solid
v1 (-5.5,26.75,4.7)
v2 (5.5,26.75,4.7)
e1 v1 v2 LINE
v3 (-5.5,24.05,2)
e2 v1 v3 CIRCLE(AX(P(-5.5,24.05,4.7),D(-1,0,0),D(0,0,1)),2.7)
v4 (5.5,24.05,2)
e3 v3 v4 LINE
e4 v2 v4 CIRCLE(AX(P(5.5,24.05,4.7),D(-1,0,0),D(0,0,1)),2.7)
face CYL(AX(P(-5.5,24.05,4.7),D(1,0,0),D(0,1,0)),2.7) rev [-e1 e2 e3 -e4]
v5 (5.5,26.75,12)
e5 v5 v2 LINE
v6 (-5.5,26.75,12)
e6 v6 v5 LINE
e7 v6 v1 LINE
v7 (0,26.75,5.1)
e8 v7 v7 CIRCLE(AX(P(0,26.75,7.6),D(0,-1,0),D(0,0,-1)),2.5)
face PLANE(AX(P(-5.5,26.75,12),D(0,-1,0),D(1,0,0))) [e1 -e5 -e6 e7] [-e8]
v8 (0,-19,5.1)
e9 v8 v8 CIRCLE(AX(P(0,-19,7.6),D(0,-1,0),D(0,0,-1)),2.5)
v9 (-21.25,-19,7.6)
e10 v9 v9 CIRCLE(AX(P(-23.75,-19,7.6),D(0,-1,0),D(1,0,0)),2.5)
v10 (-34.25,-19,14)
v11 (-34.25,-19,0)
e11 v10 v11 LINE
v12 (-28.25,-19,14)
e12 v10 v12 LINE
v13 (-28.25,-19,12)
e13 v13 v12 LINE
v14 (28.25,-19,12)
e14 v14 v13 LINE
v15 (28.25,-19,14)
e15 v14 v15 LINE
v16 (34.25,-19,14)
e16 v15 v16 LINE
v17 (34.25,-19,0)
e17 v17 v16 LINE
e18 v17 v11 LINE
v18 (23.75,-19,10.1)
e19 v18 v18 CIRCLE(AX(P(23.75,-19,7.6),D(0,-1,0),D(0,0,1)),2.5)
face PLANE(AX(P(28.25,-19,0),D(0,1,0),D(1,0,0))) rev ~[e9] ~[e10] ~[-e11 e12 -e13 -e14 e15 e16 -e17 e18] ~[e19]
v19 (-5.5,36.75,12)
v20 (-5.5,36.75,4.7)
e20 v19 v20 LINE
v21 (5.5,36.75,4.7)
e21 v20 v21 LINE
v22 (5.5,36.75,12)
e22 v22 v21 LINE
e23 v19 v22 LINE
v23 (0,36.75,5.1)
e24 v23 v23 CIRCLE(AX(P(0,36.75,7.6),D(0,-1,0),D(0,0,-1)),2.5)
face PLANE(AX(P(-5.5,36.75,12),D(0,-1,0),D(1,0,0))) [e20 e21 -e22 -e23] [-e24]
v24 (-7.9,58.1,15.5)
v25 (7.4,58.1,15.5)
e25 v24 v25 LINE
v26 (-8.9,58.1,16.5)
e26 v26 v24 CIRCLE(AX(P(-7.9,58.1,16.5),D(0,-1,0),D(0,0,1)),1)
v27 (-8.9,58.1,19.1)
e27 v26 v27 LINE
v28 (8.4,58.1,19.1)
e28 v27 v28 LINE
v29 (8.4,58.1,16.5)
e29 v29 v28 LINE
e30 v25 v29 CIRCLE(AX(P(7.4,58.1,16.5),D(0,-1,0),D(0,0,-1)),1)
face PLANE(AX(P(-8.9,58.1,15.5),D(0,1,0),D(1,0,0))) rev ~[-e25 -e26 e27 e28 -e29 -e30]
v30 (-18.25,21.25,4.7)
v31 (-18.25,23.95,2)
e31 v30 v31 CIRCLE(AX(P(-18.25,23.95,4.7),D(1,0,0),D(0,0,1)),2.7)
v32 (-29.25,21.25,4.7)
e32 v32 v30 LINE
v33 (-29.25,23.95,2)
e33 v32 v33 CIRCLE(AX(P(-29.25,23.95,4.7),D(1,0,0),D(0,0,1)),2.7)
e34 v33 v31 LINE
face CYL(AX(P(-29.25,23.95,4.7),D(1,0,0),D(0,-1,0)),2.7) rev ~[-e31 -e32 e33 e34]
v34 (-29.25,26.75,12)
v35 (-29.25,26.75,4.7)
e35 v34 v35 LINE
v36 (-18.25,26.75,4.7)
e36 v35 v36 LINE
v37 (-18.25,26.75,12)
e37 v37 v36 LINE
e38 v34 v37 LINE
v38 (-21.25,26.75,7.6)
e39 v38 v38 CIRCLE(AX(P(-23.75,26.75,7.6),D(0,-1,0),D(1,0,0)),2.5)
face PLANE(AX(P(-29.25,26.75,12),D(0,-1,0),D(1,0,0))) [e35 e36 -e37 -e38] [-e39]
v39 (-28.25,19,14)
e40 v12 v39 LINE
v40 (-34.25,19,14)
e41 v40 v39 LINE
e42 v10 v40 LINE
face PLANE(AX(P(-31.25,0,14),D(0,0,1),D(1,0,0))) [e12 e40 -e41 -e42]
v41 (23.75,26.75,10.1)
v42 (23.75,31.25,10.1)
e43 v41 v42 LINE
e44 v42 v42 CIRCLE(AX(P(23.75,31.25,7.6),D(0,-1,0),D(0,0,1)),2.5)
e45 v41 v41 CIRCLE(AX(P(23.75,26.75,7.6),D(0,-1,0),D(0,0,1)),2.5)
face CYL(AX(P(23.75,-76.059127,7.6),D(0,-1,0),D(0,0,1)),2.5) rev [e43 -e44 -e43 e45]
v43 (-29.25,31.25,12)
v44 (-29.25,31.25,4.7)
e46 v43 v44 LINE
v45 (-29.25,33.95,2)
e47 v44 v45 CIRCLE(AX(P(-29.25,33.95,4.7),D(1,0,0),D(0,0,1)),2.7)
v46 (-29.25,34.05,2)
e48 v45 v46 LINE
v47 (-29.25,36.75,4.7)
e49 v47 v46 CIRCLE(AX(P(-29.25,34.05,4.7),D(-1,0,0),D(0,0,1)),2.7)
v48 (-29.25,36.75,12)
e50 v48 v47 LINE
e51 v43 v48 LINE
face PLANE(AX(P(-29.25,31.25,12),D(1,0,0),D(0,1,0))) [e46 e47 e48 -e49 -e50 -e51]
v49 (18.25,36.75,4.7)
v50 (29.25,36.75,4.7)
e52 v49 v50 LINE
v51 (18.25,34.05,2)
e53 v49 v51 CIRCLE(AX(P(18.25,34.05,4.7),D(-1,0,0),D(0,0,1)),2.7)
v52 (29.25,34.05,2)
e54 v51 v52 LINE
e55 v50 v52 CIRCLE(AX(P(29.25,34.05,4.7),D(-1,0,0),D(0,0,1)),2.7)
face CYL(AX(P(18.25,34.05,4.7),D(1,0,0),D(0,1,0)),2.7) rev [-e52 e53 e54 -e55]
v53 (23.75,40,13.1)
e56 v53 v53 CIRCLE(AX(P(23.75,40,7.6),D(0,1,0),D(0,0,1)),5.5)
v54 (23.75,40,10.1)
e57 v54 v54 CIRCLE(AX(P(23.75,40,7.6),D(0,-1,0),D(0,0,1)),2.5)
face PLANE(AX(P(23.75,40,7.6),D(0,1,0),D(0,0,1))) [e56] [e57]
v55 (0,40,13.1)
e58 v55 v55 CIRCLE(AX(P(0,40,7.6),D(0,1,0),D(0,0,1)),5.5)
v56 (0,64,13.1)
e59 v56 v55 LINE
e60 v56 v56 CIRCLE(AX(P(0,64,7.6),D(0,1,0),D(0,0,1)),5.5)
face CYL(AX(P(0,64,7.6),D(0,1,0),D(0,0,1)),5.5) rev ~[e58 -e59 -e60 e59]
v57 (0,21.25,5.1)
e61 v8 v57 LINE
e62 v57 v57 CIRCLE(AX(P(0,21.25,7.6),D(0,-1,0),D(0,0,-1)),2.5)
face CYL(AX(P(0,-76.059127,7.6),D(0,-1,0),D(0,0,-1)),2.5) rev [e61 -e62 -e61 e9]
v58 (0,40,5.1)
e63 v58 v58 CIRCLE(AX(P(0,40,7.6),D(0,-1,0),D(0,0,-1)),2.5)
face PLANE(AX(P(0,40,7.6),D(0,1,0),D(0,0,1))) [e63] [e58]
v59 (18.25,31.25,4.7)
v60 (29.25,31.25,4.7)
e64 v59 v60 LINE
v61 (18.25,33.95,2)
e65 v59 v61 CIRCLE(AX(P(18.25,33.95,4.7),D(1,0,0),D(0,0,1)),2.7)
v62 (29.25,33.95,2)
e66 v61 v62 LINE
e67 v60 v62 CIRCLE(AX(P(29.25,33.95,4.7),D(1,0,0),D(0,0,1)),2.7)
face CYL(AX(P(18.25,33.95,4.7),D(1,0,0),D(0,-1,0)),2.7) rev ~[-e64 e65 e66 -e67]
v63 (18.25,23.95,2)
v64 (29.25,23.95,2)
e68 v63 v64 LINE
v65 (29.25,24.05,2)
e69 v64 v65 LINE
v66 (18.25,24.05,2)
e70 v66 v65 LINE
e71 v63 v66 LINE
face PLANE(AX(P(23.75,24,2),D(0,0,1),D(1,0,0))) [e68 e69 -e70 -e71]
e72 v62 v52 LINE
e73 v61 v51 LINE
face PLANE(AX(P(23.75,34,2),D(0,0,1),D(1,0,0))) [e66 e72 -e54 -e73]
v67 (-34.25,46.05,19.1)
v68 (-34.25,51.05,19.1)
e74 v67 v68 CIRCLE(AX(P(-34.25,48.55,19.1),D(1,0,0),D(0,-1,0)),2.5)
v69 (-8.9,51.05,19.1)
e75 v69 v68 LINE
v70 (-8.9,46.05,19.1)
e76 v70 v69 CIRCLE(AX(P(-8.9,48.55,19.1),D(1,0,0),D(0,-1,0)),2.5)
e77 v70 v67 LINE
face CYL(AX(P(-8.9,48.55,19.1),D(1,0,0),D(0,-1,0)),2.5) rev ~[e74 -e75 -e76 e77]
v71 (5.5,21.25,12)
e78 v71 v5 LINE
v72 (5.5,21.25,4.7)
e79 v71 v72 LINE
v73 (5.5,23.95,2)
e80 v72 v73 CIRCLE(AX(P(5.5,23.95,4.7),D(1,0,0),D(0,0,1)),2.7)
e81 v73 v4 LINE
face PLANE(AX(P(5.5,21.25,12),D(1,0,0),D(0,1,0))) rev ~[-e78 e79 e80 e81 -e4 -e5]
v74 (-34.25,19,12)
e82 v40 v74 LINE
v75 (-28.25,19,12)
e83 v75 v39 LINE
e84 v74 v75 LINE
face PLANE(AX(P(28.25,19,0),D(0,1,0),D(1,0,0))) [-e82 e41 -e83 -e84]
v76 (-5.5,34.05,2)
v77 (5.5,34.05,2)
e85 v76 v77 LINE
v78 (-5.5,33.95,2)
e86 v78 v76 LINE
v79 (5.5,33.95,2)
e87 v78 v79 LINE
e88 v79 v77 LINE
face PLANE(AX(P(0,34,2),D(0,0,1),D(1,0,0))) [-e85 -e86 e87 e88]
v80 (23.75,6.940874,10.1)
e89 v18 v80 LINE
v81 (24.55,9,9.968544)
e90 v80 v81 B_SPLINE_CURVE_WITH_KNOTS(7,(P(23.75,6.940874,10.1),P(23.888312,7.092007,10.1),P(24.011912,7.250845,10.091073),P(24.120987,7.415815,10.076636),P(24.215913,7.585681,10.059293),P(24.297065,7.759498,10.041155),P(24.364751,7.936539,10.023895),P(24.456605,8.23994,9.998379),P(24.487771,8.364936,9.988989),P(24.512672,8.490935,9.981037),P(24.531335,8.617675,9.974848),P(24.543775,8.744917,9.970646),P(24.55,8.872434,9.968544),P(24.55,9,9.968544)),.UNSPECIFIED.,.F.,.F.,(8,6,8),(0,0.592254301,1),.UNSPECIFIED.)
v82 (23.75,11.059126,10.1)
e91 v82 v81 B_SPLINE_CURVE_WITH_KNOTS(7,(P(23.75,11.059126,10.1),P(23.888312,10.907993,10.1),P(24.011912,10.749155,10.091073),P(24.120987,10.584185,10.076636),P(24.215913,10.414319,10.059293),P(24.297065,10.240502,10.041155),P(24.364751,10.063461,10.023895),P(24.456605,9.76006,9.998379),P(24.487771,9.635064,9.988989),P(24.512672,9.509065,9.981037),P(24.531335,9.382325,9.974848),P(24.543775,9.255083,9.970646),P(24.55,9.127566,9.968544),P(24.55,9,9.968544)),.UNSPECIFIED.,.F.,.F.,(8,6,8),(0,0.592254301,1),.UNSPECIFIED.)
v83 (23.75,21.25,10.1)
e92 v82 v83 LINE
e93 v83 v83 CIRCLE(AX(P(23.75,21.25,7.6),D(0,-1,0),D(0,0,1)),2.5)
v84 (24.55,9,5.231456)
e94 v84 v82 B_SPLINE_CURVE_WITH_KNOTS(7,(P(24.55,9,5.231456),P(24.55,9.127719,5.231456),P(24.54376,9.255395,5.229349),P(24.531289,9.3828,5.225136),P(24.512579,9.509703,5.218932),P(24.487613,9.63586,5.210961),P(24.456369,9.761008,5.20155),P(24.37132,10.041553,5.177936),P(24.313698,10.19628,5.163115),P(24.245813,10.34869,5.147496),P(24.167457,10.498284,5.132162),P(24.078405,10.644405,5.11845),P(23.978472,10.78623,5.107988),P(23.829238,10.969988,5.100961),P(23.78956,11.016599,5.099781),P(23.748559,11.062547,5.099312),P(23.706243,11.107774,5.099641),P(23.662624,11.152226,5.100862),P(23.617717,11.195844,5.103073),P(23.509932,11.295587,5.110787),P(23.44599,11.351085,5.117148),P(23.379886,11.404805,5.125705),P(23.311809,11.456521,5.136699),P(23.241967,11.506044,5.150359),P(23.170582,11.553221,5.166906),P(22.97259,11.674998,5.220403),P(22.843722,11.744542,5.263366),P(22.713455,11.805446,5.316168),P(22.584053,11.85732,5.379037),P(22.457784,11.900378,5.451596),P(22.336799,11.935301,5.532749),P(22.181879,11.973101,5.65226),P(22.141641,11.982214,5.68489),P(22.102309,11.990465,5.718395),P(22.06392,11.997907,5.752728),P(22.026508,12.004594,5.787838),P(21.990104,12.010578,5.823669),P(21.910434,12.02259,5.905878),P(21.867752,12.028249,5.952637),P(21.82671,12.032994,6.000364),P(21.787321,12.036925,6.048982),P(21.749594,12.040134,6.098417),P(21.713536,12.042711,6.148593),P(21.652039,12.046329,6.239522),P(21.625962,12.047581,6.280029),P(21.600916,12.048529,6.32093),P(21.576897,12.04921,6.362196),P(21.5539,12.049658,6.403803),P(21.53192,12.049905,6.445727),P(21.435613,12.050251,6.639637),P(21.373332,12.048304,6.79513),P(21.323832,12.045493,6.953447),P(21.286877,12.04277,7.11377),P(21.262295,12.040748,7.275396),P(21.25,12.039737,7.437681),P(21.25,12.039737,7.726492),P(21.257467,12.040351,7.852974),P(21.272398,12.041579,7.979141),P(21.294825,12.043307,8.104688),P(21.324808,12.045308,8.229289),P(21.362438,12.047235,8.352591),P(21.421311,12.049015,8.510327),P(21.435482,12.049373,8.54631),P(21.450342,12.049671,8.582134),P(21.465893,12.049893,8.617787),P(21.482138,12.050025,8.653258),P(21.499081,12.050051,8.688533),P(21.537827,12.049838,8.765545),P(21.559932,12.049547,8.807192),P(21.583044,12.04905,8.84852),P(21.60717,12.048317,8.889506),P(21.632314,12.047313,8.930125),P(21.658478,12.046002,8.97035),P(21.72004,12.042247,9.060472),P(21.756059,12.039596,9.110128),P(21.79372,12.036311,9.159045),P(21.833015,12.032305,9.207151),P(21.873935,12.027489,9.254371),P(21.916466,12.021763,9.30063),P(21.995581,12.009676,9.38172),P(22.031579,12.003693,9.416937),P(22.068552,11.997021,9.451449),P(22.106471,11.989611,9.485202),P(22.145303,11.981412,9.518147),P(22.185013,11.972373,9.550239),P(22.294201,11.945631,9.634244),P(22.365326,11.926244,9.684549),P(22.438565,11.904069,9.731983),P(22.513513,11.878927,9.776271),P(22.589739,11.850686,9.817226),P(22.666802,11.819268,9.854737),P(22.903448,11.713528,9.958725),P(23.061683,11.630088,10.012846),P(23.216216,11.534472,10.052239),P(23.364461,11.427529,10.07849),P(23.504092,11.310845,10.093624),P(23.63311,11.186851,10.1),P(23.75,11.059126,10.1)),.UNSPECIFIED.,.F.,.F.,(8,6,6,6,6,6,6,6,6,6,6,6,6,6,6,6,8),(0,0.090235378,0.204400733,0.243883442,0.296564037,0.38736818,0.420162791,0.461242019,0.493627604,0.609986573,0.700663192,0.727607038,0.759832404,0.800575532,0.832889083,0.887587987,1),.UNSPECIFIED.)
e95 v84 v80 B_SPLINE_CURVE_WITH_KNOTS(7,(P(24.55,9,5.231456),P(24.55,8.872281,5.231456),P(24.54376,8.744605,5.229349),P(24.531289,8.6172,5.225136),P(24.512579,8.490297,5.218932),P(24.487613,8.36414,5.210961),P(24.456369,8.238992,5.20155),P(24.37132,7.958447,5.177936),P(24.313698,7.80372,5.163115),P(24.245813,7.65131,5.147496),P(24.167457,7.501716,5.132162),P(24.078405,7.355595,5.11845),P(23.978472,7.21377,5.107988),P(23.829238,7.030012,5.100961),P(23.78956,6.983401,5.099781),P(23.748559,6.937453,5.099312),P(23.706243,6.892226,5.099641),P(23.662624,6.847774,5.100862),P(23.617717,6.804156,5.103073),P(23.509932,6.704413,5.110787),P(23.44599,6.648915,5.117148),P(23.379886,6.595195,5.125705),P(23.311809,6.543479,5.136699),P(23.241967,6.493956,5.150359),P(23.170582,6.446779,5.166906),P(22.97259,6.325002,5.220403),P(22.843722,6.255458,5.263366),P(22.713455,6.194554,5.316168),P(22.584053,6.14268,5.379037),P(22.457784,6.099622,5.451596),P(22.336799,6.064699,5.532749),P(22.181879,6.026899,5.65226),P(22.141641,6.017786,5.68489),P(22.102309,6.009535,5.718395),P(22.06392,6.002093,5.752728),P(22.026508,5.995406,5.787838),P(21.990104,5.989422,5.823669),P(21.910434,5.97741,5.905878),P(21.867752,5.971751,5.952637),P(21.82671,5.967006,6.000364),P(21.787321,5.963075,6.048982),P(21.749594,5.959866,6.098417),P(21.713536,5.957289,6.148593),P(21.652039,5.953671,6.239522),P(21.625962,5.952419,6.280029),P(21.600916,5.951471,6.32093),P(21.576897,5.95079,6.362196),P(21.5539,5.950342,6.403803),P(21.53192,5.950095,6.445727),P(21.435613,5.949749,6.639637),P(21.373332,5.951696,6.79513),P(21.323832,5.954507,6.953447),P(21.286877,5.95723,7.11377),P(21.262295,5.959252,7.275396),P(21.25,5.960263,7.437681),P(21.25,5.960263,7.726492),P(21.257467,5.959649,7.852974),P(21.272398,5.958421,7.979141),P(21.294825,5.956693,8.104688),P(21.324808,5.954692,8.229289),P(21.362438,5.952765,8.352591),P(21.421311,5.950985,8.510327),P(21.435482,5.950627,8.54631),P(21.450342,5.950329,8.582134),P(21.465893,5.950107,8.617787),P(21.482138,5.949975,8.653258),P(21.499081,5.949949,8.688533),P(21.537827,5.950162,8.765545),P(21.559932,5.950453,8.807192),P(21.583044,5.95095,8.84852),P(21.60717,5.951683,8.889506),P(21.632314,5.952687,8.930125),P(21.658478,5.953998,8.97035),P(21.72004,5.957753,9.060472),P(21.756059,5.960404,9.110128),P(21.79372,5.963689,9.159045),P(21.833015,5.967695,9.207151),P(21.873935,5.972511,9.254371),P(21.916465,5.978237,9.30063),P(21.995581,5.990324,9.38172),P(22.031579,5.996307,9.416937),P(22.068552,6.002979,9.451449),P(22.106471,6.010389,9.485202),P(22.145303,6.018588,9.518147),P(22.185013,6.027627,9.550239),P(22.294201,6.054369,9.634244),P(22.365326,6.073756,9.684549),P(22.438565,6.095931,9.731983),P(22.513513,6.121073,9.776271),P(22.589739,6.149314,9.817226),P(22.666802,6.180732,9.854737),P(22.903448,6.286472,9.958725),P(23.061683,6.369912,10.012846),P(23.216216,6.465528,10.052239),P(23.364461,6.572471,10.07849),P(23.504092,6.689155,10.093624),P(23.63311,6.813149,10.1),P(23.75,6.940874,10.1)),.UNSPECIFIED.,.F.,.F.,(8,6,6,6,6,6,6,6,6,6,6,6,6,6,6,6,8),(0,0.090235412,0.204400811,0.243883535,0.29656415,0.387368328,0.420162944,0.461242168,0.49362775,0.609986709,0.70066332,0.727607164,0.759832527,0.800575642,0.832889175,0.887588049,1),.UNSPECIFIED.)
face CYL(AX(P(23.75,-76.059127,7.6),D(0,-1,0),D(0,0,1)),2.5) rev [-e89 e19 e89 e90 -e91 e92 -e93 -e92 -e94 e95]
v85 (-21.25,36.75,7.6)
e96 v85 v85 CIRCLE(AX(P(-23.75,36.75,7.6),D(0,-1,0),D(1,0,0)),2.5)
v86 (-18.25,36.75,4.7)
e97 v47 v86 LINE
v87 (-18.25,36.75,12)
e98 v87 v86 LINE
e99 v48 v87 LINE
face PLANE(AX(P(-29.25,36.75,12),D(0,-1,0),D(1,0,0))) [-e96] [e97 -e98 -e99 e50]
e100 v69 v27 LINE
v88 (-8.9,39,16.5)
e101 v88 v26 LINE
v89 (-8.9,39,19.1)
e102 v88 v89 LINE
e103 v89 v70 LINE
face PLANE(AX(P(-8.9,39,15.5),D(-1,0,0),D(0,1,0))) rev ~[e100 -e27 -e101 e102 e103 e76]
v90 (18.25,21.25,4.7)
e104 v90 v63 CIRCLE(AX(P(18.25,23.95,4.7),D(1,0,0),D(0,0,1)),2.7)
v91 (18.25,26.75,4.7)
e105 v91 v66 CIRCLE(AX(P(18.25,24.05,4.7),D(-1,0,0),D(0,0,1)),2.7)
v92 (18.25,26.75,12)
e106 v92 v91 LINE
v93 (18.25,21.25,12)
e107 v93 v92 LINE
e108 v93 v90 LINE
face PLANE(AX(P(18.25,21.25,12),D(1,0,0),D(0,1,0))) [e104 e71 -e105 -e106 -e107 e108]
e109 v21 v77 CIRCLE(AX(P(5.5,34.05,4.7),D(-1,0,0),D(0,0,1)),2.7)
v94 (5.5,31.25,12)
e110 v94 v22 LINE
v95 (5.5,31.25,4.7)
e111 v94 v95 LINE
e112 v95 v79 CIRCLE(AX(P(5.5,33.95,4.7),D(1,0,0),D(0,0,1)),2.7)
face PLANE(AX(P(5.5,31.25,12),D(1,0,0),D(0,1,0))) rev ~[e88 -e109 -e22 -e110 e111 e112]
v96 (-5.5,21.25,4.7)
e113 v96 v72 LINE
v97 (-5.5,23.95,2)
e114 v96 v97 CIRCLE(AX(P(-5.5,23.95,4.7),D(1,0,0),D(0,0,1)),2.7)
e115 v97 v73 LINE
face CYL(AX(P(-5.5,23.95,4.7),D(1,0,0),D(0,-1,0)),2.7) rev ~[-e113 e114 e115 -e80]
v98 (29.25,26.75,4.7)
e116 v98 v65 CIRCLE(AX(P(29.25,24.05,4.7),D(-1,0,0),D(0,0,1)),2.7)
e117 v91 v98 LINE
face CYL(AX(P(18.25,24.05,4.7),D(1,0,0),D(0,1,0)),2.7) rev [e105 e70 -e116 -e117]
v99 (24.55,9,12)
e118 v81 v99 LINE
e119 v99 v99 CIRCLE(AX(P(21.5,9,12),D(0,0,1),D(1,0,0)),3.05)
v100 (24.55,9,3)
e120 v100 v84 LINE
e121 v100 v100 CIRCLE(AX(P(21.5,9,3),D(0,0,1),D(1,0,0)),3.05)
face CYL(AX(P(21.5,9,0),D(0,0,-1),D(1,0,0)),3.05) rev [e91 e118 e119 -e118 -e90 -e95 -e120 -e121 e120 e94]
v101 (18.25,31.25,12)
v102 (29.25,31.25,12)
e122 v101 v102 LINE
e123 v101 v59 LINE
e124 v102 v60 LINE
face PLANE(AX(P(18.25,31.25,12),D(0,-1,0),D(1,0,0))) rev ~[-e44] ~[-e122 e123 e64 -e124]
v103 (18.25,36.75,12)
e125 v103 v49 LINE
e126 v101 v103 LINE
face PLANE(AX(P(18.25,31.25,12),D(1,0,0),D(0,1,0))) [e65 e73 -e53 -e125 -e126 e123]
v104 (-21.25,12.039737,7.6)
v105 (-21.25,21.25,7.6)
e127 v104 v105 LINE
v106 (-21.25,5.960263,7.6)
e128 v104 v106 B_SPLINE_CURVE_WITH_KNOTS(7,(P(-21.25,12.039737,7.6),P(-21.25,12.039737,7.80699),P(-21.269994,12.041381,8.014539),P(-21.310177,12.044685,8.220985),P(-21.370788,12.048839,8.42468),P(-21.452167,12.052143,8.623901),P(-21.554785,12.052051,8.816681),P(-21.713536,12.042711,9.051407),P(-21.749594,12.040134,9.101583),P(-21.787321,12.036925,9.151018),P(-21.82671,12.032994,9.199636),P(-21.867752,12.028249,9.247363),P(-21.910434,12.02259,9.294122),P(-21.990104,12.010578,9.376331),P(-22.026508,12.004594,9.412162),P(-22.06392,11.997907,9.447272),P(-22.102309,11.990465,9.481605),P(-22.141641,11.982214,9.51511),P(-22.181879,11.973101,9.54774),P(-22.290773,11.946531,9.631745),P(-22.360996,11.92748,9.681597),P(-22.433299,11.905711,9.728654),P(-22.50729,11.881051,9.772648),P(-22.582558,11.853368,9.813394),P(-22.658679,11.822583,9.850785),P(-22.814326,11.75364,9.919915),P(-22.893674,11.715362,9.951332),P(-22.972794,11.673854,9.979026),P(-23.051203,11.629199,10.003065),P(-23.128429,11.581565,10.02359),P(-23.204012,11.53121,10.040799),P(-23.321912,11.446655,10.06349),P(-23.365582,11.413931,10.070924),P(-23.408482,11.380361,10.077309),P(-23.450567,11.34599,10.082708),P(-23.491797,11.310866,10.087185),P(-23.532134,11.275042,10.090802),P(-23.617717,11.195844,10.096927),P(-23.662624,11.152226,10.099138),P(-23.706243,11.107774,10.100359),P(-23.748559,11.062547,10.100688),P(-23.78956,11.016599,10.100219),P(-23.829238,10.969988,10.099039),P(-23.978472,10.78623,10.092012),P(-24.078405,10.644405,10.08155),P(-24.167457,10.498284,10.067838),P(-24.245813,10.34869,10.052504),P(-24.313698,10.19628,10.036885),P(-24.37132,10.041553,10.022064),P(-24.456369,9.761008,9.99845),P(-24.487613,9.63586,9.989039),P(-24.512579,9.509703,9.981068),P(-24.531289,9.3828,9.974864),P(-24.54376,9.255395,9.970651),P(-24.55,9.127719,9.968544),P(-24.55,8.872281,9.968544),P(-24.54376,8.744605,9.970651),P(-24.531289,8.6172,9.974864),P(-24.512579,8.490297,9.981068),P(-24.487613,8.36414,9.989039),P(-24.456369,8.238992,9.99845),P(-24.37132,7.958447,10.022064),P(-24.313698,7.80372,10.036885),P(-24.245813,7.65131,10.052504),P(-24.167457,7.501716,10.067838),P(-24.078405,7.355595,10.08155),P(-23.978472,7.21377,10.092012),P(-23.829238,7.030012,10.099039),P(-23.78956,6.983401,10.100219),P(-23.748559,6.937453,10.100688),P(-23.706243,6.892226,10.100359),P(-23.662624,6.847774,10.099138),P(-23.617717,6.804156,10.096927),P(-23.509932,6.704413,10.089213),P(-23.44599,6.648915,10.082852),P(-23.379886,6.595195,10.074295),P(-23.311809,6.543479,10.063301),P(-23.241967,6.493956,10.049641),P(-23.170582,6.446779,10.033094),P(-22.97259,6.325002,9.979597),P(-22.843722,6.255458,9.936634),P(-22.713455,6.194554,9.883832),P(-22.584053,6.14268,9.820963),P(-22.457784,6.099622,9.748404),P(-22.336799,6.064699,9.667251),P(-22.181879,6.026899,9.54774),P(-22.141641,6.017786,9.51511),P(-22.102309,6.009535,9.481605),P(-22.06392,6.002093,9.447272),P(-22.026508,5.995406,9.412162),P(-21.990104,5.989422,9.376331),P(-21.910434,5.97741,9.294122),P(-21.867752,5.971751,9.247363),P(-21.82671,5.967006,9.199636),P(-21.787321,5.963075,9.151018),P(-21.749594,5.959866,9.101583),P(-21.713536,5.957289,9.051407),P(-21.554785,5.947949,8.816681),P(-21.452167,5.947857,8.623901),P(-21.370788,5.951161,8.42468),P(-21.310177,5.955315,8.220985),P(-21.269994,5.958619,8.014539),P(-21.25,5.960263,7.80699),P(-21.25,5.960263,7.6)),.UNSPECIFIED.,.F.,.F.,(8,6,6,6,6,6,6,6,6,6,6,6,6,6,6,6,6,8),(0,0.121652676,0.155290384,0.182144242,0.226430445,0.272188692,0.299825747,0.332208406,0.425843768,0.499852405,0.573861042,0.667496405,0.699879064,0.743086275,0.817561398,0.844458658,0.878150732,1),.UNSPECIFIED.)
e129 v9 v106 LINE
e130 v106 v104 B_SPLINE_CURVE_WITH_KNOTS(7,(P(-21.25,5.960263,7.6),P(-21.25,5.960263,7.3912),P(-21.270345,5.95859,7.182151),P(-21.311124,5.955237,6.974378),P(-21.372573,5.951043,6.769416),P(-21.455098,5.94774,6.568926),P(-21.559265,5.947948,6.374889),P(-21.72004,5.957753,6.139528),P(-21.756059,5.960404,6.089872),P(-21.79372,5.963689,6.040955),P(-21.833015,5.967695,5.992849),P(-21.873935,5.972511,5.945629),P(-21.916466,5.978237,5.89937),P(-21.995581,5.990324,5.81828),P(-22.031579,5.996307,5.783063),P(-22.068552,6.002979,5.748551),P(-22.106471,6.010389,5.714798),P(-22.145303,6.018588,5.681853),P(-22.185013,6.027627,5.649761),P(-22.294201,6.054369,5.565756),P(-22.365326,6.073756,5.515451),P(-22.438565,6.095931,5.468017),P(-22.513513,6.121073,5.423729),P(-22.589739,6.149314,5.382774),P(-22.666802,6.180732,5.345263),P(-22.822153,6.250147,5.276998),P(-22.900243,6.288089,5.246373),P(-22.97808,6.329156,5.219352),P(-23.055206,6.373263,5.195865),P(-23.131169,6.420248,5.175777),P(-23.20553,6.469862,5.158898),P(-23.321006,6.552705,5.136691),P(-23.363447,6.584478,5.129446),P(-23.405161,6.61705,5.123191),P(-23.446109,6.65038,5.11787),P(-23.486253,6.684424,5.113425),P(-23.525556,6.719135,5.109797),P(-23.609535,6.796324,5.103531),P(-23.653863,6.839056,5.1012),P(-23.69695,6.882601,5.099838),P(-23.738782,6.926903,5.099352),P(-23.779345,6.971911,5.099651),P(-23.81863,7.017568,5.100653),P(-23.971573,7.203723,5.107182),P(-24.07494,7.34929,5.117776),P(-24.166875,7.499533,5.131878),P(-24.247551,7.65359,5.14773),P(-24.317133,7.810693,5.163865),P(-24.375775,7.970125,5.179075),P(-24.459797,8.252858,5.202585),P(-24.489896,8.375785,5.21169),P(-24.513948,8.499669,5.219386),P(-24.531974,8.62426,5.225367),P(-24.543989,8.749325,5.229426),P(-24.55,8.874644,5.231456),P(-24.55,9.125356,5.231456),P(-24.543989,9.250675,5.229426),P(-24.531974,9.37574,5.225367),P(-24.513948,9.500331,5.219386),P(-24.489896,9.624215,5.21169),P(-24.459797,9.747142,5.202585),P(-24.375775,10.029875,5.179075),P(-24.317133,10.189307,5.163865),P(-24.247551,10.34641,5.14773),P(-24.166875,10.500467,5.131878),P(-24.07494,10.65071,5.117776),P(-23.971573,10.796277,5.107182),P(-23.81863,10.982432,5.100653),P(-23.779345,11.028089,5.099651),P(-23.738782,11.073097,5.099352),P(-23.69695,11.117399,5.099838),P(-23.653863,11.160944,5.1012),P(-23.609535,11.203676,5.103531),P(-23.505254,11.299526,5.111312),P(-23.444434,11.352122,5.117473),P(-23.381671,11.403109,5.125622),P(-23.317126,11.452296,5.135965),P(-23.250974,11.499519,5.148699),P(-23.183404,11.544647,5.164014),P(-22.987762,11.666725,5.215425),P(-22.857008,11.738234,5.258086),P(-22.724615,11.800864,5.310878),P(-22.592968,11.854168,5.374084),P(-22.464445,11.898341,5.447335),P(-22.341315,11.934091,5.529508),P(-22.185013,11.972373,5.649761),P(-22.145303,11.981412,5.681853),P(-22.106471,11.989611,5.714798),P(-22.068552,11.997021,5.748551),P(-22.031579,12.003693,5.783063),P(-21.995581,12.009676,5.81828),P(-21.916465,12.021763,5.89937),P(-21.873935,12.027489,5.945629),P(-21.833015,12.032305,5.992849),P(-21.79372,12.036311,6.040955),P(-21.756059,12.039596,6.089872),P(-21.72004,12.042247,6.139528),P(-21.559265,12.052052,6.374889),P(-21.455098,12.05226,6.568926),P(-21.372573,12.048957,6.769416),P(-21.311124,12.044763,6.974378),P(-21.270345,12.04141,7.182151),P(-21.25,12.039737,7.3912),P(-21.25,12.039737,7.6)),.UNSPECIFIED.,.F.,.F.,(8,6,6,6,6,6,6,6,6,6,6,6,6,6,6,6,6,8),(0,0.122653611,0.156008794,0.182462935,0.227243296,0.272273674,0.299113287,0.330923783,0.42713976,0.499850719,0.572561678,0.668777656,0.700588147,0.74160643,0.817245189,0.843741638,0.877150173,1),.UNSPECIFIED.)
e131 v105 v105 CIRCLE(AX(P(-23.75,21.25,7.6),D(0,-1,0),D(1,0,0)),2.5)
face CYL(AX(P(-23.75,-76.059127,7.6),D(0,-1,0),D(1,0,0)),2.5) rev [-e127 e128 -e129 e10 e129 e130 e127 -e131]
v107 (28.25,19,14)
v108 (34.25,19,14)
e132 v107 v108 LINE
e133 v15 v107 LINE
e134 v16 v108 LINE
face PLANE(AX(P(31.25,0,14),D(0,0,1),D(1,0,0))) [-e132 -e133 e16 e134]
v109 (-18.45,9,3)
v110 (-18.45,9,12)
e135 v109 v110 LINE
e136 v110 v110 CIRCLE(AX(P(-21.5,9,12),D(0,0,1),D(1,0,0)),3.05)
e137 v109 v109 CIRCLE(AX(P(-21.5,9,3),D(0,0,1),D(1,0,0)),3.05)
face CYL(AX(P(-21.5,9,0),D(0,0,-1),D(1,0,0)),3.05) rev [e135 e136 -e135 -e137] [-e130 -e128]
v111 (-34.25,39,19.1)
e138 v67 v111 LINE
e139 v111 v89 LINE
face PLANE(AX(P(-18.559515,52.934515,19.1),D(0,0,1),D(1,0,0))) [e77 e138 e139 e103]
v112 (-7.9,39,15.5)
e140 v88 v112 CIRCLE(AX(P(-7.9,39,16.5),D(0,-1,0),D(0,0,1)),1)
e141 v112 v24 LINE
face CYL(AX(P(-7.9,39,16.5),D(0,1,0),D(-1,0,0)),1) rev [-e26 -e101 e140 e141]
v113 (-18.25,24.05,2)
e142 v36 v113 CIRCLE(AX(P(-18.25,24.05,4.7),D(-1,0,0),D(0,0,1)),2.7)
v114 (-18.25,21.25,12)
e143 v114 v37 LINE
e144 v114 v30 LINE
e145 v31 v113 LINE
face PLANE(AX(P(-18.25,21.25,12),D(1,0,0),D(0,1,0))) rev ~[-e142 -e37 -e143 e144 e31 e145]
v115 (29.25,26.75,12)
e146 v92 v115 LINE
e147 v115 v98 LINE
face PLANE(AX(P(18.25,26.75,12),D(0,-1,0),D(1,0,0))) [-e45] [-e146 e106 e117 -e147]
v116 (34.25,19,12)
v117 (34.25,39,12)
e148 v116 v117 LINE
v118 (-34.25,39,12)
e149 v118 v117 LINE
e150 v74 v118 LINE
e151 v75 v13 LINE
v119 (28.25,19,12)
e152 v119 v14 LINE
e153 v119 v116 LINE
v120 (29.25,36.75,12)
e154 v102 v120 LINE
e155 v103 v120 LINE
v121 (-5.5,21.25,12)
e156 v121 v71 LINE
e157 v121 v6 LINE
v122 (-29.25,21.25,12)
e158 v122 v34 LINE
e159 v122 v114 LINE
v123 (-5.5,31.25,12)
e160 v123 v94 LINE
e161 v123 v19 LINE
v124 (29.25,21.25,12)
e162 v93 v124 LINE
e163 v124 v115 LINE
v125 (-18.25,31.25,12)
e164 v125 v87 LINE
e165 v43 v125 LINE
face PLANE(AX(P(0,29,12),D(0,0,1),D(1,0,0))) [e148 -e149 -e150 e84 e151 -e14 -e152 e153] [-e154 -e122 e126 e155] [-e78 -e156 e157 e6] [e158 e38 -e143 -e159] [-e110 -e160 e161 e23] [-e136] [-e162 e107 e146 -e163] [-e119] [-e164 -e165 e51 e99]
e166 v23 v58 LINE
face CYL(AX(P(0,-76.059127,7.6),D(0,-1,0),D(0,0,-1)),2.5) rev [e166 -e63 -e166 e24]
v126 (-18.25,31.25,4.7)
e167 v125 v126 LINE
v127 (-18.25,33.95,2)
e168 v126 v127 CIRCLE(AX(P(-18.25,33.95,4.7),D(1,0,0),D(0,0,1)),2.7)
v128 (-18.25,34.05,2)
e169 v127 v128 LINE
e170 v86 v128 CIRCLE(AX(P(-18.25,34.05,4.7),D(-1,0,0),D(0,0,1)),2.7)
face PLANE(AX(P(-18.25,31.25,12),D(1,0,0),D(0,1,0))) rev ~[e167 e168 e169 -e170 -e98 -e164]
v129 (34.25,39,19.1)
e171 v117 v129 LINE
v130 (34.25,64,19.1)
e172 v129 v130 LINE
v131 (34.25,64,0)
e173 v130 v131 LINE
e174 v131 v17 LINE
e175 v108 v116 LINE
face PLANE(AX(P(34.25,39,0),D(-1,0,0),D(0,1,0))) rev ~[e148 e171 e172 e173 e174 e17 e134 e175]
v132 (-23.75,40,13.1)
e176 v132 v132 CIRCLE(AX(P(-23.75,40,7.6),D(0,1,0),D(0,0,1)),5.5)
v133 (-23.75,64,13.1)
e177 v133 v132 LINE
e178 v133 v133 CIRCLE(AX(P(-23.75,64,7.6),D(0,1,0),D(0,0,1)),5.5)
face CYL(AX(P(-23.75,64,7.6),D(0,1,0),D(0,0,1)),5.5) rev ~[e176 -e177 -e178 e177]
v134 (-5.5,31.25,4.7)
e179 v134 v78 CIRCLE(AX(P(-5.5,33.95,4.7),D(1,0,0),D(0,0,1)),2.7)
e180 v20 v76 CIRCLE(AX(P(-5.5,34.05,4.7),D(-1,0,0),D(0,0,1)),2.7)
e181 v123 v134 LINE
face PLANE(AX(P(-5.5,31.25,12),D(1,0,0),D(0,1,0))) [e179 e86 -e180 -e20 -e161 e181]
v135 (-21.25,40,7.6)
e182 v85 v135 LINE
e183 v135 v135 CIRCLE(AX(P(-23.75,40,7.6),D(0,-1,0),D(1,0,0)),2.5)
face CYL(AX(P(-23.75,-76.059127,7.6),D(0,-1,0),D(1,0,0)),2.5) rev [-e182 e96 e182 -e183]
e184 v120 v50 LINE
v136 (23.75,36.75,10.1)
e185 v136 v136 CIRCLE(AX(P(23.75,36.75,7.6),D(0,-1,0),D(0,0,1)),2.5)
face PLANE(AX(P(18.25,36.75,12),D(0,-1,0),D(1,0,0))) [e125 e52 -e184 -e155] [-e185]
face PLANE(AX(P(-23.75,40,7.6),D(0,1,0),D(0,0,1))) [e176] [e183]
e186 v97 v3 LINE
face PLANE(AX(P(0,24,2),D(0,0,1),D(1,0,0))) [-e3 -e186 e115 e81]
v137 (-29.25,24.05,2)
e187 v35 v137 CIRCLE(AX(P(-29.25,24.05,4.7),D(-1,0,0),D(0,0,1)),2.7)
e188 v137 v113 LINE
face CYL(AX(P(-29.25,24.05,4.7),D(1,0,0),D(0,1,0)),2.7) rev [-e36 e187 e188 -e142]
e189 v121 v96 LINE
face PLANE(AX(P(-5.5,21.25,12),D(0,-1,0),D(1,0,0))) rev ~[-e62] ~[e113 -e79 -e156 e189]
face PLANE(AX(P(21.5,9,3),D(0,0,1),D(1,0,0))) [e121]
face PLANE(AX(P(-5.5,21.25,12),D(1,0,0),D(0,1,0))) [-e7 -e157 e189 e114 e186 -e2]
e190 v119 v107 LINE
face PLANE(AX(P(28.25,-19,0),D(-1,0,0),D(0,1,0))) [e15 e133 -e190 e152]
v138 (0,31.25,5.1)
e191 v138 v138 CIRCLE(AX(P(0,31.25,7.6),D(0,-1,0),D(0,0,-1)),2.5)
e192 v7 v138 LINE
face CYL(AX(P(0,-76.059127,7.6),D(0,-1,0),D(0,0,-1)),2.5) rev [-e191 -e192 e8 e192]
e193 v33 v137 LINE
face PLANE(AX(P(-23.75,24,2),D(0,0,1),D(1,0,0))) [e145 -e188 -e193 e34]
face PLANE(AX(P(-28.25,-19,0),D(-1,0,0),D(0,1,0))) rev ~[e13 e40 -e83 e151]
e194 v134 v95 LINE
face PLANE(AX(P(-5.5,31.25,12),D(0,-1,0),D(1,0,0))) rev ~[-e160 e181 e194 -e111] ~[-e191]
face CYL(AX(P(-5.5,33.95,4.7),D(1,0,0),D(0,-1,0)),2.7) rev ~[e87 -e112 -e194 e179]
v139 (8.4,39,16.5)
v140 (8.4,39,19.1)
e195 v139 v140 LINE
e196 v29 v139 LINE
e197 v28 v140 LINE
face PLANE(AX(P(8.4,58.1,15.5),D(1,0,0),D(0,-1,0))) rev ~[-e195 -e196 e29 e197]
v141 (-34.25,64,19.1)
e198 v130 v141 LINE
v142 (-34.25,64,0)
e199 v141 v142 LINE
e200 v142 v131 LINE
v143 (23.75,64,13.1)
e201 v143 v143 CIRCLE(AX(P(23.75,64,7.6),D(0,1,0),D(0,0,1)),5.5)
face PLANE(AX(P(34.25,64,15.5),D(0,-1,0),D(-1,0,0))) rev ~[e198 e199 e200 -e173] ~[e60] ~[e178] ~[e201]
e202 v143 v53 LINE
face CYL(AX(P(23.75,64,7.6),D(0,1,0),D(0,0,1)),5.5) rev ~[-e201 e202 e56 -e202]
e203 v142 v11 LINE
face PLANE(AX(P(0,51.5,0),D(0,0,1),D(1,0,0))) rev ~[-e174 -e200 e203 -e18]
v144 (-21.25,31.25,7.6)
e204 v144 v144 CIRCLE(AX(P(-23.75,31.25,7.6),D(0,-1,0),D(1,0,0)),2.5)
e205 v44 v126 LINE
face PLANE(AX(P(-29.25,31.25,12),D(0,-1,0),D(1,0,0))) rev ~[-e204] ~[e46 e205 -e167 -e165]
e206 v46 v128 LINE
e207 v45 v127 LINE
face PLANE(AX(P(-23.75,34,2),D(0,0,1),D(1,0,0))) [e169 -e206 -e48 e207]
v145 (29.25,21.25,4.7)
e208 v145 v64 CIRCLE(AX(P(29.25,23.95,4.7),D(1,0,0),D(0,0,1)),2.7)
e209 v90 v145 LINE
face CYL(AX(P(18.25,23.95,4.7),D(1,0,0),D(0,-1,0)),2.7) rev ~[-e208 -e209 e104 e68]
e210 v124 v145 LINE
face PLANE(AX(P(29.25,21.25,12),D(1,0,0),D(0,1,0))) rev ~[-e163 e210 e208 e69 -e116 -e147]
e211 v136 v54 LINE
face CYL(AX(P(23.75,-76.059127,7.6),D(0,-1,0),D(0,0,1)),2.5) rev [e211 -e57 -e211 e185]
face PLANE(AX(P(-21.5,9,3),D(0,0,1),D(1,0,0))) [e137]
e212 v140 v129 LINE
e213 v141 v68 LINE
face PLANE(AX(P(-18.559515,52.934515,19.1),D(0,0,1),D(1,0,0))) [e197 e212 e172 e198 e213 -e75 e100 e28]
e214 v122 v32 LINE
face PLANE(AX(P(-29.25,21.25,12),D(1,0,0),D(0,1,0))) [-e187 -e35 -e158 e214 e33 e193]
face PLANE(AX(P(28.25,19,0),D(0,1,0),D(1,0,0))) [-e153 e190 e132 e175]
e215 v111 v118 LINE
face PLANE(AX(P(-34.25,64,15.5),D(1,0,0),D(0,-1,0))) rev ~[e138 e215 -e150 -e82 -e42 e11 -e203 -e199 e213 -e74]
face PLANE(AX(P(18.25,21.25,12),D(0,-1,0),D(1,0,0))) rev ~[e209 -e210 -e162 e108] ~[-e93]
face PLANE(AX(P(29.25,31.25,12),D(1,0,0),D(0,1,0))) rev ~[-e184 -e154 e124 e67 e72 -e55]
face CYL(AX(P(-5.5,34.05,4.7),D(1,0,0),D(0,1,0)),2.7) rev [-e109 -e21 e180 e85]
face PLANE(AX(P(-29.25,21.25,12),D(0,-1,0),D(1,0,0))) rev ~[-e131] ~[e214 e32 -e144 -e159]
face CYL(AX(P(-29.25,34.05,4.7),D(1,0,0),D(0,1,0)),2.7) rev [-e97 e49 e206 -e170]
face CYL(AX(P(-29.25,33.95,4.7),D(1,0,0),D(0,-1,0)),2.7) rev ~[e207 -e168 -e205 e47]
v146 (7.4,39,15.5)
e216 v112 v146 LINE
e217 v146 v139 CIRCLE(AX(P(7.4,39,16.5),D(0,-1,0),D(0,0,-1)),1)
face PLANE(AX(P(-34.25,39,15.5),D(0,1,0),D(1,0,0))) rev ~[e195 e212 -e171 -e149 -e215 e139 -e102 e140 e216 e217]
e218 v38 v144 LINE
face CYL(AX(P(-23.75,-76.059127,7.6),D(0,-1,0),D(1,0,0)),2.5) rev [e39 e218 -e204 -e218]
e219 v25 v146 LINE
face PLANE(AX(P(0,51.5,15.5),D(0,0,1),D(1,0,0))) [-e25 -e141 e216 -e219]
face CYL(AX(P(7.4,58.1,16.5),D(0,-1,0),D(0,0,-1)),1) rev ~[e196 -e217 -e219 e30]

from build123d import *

# Parameters (mm, degrees)
ESQUISSE2_W                  = 56.5
ESQUISSE2_H                  = 38
ESQUISSE2_R                  = 3.05
ESQUISSE2_W_2                = 6
SOCLESYRINGE_DEPTH           = 12
ESQUISSE2_2_R                = 3.05
BOSS_EXTRU_2_DEPTH           = 3
ESQUISSE2_4_W                = 6
ESQUISSE2_4_H                = 38
BOSS_EXTRU_4_DEPTH           = 14
ESQUISSE3_W                  = 68.5
ESQUISSE3_H                  = 20
BOSS_EXTRU_3_DEPTH           = 12
ESQUISSE4_W                  = 11
ESQUISSE4_H                  = 5.5
ENL_V_MAT_EXTRU_1_DEPTH      = 10
CONG_1_R                     = 2.7
ESQUISSE6_W                  = 68.5
ESQUISSE6_H                  = 25
BOSS_EXTRU_5_DEPTH           = 15.5
BOSS_EXTRU_6_DEPTH           = 3.6
ENL_V_MAT_EXTRU_3_DEPTH      = 80.515611675
CONG_2_R                     = 1
ENL_V_MAT_EXTRU_2_DEPTH      = 76.059126694
ENL_V_MAT_EXTRU_2_DEPTH_BACK = 76.059126694
ESQUISSE5_R                  = 2.5
ESQUISSE9_R                  = 5.5
ENL_V_MAT_EXTRU_4_DEPTH      = 24


with BuildPart() as part:
    # Esquisse2 → SocleSyringe (new body)
    # profile 1 of 3: a face of its own
    with BuildSketch(Plane.XY):
        Rectangle(ESQUISSE2_W, ESQUISSE2_H)
        with Locations((-21.5, 9)):
            Circle(ESQUISSE2_R, mode=Mode.SUBTRACT)
        with Locations((21.5, 9)):
            Circle(ESQUISSE2_R, mode=Mode.SUBTRACT)
    # profile 2 of 3: a face of its own
    with BuildSketch(Plane.XY):
        with Locations((-31.25, 0)):
            Rectangle(ESQUISSE2_W_2, ESQUISSE2_H)
    # profile 3 of 3: a face of its own
    with BuildSketch(Plane.XY):
        with Locations((31.25, 0)):
            Rectangle(ESQUISSE2_W_2, ESQUISSE2_H)
    extrude(amount=SOCLESYRINGE_DEPTH)

    # Esquisse2<2> → Boss.-Extru.2 (add)
    with BuildSketch(Plane.XY):
        with Locations((-21.5, 9)):
            Circle(ESQUISSE2_2_R)
        with Locations((21.5, 9)):
            Circle(ESQUISSE2_2_R)
    extrude(amount=BOSS_EXTRU_2_DEPTH)

    # Esquisse2<4> → Boss.-Extru.4 (add)
    with BuildSketch(Plane.XY):
        with Locations((-31.25, 0)):
            Rectangle(ESQUISSE2_4_W, ESQUISSE2_4_H)
        with Locations((31.25, 0)):
            Rectangle(ESQUISSE2_4_W, ESQUISSE2_4_H)
    extrude(amount=BOSS_EXTRU_4_DEPTH)

    # Esquisse3 → Boss.-Extru.3 (add)
    with BuildSketch(Plane.XY):
        with Locations((0, 29)):
            Rectangle(ESQUISSE3_W, ESQUISSE3_H)
    extrude(amount=BOSS_EXTRU_3_DEPTH)

    # Esquisse4 → Enlèv. mat.-Extru.1 (cut)
    with BuildSketch(Plane.XY.offset(12)):
        with Locations((-23.75, 34)):
            Rectangle(ESQUISSE4_W, ESQUISSE4_H)
        with Locations((23.75, 34)):
            Rectangle(ESQUISSE4_W, ESQUISSE4_H)
        with Locations((23.75, 24)):
            Rectangle(ESQUISSE4_W, ESQUISSE4_H)
        with Locations((-23.75, 24)):
            Rectangle(ESQUISSE4_W, ESQUISSE4_H)
        with Locations((0, 34)):
            Rectangle(ESQUISSE4_W, ESQUISSE4_H)
        with Locations((0, 24)):
            Rectangle(ESQUISSE4_W, ESQUISSE4_H)
    extrude(amount=-ENL_V_MAT_EXTRU_1_DEPTH, mode=Mode.SUBTRACT)

    # Congé1
    cong_1_edges = [part.edges().sort_by_distance(p)[0] for p in [
        (23.75, 36.75, 2),
        (23.75, 31.25, 2),
        (23.75, 26.75, 2),
        (23.75, 21.25, 2),
        (-23.75, 21.25, 2),
        (-23.75, 26.75, 2),
        (0, 31.25, 2),
        (0, 36.75, 2),
        (0, 21.25, 2),
        (0, 26.75, 2),
        (-23.75, 31.25, 2),
        (-23.75, 36.75, 2),
    ]]
    fillet(cong_1_edges, radius=CONG_1_R)

    # Esquisse6 → Boss.-Extru.5 (add)
    with BuildSketch(Plane.XY):
        with Locations((0, 51.5)):
            Rectangle(ESQUISSE6_W, ESQUISSE6_H)
    extrude(amount=BOSS_EXTRU_5_DEPTH)

    # Esquisse7 → Boss.-Extru.6 (add)
    with BuildSketch(Plane.XY.offset(15.5)):
        Polygon((-34.25, 39), (-8.9, 39), (-8.9, 58.1), (0, 58.1), (0, 64), (-34.25, 64), align=None)
        Polygon((8.4, 58.1), (8.4, 39), (34.25, 39), (34.25, 64), (0, 64), (0, 58.1), align=None)
    extrude(amount=BOSS_EXTRU_6_DEPTH)

    # Esquisse8 → Enlèv. mat.-Extru.3 (cut, through all)
    with BuildSketch(Plane(origin=(-8.9, 0, 0), x_dir=(0, 0, -1), z_dir=(1, 0, 0))):
        with BuildLine():
            Line((-19.1, 51.05), (-19.1, 46.05))
            ThreePointArc((-19.1, 46.05), (-16.6, 48.55), (-19.1, 51.05))
        make_face()
    extrude(amount=-ENL_V_MAT_EXTRU_3_DEPTH, mode=Mode.SUBTRACT)

    # Congé2
    cong_2_edges = [part.edges().sort_by_distance(p)[0] for p in [
        (-8.9, 48.55, 15.5),
        (8.4, 48.55, 15.5),
    ]]
    fillet(cong_2_edges, radius=CONG_2_R)

    # Esquisse5 → Enlèv. mat.-Extru.2 (cut, two sides: drawn at the far end of the back side and taken through both)
    with BuildSketch(Plane(origin=(0, 0, 0), x_dir=(1, 0, 0), z_dir=(0, 1, 0)).offset(-ENL_V_MAT_EXTRU_2_DEPTH_BACK)):
        with Locations(Location((23.75, -7.6, 0), (0, 0, 270))):
            Circle(ESQUISSE5_R)
        with Locations((-23.75, -7.6)):
            Circle(ESQUISSE5_R)
        with Locations(Location((0, -7.6, 0), (0, 0, 90))):
            Circle(ESQUISSE5_R)
    extrude(amount=ENL_V_MAT_EXTRU_2_DEPTH + ENL_V_MAT_EXTRU_2_DEPTH_BACK, mode=Mode.SUBTRACT)

    # Esquisse9 → Enlèv. mat.-Extru.4 (cut)
    with BuildSketch(Plane(origin=(0, 64, 0), x_dir=(1, 0, 0), z_dir=(0, 1, 0))):
        with Locations(Location((-23.75, -7.6, 0), (0, 0, 270))):
            Circle(ESQUISSE9_R)
        with Locations(Location((0, -7.6, 0), (0, 0, 270))):
            Circle(ESQUISSE9_R)
        with Locations(Location((23.75, -7.6, 0), (0, 0, 270))):
            Circle(ESQUISSE9_R)
    extrude(amount=-ENL_V_MAT_EXTRU_4_DEPTH, mode=Mode.SUBTRACT)


solid = part.part
